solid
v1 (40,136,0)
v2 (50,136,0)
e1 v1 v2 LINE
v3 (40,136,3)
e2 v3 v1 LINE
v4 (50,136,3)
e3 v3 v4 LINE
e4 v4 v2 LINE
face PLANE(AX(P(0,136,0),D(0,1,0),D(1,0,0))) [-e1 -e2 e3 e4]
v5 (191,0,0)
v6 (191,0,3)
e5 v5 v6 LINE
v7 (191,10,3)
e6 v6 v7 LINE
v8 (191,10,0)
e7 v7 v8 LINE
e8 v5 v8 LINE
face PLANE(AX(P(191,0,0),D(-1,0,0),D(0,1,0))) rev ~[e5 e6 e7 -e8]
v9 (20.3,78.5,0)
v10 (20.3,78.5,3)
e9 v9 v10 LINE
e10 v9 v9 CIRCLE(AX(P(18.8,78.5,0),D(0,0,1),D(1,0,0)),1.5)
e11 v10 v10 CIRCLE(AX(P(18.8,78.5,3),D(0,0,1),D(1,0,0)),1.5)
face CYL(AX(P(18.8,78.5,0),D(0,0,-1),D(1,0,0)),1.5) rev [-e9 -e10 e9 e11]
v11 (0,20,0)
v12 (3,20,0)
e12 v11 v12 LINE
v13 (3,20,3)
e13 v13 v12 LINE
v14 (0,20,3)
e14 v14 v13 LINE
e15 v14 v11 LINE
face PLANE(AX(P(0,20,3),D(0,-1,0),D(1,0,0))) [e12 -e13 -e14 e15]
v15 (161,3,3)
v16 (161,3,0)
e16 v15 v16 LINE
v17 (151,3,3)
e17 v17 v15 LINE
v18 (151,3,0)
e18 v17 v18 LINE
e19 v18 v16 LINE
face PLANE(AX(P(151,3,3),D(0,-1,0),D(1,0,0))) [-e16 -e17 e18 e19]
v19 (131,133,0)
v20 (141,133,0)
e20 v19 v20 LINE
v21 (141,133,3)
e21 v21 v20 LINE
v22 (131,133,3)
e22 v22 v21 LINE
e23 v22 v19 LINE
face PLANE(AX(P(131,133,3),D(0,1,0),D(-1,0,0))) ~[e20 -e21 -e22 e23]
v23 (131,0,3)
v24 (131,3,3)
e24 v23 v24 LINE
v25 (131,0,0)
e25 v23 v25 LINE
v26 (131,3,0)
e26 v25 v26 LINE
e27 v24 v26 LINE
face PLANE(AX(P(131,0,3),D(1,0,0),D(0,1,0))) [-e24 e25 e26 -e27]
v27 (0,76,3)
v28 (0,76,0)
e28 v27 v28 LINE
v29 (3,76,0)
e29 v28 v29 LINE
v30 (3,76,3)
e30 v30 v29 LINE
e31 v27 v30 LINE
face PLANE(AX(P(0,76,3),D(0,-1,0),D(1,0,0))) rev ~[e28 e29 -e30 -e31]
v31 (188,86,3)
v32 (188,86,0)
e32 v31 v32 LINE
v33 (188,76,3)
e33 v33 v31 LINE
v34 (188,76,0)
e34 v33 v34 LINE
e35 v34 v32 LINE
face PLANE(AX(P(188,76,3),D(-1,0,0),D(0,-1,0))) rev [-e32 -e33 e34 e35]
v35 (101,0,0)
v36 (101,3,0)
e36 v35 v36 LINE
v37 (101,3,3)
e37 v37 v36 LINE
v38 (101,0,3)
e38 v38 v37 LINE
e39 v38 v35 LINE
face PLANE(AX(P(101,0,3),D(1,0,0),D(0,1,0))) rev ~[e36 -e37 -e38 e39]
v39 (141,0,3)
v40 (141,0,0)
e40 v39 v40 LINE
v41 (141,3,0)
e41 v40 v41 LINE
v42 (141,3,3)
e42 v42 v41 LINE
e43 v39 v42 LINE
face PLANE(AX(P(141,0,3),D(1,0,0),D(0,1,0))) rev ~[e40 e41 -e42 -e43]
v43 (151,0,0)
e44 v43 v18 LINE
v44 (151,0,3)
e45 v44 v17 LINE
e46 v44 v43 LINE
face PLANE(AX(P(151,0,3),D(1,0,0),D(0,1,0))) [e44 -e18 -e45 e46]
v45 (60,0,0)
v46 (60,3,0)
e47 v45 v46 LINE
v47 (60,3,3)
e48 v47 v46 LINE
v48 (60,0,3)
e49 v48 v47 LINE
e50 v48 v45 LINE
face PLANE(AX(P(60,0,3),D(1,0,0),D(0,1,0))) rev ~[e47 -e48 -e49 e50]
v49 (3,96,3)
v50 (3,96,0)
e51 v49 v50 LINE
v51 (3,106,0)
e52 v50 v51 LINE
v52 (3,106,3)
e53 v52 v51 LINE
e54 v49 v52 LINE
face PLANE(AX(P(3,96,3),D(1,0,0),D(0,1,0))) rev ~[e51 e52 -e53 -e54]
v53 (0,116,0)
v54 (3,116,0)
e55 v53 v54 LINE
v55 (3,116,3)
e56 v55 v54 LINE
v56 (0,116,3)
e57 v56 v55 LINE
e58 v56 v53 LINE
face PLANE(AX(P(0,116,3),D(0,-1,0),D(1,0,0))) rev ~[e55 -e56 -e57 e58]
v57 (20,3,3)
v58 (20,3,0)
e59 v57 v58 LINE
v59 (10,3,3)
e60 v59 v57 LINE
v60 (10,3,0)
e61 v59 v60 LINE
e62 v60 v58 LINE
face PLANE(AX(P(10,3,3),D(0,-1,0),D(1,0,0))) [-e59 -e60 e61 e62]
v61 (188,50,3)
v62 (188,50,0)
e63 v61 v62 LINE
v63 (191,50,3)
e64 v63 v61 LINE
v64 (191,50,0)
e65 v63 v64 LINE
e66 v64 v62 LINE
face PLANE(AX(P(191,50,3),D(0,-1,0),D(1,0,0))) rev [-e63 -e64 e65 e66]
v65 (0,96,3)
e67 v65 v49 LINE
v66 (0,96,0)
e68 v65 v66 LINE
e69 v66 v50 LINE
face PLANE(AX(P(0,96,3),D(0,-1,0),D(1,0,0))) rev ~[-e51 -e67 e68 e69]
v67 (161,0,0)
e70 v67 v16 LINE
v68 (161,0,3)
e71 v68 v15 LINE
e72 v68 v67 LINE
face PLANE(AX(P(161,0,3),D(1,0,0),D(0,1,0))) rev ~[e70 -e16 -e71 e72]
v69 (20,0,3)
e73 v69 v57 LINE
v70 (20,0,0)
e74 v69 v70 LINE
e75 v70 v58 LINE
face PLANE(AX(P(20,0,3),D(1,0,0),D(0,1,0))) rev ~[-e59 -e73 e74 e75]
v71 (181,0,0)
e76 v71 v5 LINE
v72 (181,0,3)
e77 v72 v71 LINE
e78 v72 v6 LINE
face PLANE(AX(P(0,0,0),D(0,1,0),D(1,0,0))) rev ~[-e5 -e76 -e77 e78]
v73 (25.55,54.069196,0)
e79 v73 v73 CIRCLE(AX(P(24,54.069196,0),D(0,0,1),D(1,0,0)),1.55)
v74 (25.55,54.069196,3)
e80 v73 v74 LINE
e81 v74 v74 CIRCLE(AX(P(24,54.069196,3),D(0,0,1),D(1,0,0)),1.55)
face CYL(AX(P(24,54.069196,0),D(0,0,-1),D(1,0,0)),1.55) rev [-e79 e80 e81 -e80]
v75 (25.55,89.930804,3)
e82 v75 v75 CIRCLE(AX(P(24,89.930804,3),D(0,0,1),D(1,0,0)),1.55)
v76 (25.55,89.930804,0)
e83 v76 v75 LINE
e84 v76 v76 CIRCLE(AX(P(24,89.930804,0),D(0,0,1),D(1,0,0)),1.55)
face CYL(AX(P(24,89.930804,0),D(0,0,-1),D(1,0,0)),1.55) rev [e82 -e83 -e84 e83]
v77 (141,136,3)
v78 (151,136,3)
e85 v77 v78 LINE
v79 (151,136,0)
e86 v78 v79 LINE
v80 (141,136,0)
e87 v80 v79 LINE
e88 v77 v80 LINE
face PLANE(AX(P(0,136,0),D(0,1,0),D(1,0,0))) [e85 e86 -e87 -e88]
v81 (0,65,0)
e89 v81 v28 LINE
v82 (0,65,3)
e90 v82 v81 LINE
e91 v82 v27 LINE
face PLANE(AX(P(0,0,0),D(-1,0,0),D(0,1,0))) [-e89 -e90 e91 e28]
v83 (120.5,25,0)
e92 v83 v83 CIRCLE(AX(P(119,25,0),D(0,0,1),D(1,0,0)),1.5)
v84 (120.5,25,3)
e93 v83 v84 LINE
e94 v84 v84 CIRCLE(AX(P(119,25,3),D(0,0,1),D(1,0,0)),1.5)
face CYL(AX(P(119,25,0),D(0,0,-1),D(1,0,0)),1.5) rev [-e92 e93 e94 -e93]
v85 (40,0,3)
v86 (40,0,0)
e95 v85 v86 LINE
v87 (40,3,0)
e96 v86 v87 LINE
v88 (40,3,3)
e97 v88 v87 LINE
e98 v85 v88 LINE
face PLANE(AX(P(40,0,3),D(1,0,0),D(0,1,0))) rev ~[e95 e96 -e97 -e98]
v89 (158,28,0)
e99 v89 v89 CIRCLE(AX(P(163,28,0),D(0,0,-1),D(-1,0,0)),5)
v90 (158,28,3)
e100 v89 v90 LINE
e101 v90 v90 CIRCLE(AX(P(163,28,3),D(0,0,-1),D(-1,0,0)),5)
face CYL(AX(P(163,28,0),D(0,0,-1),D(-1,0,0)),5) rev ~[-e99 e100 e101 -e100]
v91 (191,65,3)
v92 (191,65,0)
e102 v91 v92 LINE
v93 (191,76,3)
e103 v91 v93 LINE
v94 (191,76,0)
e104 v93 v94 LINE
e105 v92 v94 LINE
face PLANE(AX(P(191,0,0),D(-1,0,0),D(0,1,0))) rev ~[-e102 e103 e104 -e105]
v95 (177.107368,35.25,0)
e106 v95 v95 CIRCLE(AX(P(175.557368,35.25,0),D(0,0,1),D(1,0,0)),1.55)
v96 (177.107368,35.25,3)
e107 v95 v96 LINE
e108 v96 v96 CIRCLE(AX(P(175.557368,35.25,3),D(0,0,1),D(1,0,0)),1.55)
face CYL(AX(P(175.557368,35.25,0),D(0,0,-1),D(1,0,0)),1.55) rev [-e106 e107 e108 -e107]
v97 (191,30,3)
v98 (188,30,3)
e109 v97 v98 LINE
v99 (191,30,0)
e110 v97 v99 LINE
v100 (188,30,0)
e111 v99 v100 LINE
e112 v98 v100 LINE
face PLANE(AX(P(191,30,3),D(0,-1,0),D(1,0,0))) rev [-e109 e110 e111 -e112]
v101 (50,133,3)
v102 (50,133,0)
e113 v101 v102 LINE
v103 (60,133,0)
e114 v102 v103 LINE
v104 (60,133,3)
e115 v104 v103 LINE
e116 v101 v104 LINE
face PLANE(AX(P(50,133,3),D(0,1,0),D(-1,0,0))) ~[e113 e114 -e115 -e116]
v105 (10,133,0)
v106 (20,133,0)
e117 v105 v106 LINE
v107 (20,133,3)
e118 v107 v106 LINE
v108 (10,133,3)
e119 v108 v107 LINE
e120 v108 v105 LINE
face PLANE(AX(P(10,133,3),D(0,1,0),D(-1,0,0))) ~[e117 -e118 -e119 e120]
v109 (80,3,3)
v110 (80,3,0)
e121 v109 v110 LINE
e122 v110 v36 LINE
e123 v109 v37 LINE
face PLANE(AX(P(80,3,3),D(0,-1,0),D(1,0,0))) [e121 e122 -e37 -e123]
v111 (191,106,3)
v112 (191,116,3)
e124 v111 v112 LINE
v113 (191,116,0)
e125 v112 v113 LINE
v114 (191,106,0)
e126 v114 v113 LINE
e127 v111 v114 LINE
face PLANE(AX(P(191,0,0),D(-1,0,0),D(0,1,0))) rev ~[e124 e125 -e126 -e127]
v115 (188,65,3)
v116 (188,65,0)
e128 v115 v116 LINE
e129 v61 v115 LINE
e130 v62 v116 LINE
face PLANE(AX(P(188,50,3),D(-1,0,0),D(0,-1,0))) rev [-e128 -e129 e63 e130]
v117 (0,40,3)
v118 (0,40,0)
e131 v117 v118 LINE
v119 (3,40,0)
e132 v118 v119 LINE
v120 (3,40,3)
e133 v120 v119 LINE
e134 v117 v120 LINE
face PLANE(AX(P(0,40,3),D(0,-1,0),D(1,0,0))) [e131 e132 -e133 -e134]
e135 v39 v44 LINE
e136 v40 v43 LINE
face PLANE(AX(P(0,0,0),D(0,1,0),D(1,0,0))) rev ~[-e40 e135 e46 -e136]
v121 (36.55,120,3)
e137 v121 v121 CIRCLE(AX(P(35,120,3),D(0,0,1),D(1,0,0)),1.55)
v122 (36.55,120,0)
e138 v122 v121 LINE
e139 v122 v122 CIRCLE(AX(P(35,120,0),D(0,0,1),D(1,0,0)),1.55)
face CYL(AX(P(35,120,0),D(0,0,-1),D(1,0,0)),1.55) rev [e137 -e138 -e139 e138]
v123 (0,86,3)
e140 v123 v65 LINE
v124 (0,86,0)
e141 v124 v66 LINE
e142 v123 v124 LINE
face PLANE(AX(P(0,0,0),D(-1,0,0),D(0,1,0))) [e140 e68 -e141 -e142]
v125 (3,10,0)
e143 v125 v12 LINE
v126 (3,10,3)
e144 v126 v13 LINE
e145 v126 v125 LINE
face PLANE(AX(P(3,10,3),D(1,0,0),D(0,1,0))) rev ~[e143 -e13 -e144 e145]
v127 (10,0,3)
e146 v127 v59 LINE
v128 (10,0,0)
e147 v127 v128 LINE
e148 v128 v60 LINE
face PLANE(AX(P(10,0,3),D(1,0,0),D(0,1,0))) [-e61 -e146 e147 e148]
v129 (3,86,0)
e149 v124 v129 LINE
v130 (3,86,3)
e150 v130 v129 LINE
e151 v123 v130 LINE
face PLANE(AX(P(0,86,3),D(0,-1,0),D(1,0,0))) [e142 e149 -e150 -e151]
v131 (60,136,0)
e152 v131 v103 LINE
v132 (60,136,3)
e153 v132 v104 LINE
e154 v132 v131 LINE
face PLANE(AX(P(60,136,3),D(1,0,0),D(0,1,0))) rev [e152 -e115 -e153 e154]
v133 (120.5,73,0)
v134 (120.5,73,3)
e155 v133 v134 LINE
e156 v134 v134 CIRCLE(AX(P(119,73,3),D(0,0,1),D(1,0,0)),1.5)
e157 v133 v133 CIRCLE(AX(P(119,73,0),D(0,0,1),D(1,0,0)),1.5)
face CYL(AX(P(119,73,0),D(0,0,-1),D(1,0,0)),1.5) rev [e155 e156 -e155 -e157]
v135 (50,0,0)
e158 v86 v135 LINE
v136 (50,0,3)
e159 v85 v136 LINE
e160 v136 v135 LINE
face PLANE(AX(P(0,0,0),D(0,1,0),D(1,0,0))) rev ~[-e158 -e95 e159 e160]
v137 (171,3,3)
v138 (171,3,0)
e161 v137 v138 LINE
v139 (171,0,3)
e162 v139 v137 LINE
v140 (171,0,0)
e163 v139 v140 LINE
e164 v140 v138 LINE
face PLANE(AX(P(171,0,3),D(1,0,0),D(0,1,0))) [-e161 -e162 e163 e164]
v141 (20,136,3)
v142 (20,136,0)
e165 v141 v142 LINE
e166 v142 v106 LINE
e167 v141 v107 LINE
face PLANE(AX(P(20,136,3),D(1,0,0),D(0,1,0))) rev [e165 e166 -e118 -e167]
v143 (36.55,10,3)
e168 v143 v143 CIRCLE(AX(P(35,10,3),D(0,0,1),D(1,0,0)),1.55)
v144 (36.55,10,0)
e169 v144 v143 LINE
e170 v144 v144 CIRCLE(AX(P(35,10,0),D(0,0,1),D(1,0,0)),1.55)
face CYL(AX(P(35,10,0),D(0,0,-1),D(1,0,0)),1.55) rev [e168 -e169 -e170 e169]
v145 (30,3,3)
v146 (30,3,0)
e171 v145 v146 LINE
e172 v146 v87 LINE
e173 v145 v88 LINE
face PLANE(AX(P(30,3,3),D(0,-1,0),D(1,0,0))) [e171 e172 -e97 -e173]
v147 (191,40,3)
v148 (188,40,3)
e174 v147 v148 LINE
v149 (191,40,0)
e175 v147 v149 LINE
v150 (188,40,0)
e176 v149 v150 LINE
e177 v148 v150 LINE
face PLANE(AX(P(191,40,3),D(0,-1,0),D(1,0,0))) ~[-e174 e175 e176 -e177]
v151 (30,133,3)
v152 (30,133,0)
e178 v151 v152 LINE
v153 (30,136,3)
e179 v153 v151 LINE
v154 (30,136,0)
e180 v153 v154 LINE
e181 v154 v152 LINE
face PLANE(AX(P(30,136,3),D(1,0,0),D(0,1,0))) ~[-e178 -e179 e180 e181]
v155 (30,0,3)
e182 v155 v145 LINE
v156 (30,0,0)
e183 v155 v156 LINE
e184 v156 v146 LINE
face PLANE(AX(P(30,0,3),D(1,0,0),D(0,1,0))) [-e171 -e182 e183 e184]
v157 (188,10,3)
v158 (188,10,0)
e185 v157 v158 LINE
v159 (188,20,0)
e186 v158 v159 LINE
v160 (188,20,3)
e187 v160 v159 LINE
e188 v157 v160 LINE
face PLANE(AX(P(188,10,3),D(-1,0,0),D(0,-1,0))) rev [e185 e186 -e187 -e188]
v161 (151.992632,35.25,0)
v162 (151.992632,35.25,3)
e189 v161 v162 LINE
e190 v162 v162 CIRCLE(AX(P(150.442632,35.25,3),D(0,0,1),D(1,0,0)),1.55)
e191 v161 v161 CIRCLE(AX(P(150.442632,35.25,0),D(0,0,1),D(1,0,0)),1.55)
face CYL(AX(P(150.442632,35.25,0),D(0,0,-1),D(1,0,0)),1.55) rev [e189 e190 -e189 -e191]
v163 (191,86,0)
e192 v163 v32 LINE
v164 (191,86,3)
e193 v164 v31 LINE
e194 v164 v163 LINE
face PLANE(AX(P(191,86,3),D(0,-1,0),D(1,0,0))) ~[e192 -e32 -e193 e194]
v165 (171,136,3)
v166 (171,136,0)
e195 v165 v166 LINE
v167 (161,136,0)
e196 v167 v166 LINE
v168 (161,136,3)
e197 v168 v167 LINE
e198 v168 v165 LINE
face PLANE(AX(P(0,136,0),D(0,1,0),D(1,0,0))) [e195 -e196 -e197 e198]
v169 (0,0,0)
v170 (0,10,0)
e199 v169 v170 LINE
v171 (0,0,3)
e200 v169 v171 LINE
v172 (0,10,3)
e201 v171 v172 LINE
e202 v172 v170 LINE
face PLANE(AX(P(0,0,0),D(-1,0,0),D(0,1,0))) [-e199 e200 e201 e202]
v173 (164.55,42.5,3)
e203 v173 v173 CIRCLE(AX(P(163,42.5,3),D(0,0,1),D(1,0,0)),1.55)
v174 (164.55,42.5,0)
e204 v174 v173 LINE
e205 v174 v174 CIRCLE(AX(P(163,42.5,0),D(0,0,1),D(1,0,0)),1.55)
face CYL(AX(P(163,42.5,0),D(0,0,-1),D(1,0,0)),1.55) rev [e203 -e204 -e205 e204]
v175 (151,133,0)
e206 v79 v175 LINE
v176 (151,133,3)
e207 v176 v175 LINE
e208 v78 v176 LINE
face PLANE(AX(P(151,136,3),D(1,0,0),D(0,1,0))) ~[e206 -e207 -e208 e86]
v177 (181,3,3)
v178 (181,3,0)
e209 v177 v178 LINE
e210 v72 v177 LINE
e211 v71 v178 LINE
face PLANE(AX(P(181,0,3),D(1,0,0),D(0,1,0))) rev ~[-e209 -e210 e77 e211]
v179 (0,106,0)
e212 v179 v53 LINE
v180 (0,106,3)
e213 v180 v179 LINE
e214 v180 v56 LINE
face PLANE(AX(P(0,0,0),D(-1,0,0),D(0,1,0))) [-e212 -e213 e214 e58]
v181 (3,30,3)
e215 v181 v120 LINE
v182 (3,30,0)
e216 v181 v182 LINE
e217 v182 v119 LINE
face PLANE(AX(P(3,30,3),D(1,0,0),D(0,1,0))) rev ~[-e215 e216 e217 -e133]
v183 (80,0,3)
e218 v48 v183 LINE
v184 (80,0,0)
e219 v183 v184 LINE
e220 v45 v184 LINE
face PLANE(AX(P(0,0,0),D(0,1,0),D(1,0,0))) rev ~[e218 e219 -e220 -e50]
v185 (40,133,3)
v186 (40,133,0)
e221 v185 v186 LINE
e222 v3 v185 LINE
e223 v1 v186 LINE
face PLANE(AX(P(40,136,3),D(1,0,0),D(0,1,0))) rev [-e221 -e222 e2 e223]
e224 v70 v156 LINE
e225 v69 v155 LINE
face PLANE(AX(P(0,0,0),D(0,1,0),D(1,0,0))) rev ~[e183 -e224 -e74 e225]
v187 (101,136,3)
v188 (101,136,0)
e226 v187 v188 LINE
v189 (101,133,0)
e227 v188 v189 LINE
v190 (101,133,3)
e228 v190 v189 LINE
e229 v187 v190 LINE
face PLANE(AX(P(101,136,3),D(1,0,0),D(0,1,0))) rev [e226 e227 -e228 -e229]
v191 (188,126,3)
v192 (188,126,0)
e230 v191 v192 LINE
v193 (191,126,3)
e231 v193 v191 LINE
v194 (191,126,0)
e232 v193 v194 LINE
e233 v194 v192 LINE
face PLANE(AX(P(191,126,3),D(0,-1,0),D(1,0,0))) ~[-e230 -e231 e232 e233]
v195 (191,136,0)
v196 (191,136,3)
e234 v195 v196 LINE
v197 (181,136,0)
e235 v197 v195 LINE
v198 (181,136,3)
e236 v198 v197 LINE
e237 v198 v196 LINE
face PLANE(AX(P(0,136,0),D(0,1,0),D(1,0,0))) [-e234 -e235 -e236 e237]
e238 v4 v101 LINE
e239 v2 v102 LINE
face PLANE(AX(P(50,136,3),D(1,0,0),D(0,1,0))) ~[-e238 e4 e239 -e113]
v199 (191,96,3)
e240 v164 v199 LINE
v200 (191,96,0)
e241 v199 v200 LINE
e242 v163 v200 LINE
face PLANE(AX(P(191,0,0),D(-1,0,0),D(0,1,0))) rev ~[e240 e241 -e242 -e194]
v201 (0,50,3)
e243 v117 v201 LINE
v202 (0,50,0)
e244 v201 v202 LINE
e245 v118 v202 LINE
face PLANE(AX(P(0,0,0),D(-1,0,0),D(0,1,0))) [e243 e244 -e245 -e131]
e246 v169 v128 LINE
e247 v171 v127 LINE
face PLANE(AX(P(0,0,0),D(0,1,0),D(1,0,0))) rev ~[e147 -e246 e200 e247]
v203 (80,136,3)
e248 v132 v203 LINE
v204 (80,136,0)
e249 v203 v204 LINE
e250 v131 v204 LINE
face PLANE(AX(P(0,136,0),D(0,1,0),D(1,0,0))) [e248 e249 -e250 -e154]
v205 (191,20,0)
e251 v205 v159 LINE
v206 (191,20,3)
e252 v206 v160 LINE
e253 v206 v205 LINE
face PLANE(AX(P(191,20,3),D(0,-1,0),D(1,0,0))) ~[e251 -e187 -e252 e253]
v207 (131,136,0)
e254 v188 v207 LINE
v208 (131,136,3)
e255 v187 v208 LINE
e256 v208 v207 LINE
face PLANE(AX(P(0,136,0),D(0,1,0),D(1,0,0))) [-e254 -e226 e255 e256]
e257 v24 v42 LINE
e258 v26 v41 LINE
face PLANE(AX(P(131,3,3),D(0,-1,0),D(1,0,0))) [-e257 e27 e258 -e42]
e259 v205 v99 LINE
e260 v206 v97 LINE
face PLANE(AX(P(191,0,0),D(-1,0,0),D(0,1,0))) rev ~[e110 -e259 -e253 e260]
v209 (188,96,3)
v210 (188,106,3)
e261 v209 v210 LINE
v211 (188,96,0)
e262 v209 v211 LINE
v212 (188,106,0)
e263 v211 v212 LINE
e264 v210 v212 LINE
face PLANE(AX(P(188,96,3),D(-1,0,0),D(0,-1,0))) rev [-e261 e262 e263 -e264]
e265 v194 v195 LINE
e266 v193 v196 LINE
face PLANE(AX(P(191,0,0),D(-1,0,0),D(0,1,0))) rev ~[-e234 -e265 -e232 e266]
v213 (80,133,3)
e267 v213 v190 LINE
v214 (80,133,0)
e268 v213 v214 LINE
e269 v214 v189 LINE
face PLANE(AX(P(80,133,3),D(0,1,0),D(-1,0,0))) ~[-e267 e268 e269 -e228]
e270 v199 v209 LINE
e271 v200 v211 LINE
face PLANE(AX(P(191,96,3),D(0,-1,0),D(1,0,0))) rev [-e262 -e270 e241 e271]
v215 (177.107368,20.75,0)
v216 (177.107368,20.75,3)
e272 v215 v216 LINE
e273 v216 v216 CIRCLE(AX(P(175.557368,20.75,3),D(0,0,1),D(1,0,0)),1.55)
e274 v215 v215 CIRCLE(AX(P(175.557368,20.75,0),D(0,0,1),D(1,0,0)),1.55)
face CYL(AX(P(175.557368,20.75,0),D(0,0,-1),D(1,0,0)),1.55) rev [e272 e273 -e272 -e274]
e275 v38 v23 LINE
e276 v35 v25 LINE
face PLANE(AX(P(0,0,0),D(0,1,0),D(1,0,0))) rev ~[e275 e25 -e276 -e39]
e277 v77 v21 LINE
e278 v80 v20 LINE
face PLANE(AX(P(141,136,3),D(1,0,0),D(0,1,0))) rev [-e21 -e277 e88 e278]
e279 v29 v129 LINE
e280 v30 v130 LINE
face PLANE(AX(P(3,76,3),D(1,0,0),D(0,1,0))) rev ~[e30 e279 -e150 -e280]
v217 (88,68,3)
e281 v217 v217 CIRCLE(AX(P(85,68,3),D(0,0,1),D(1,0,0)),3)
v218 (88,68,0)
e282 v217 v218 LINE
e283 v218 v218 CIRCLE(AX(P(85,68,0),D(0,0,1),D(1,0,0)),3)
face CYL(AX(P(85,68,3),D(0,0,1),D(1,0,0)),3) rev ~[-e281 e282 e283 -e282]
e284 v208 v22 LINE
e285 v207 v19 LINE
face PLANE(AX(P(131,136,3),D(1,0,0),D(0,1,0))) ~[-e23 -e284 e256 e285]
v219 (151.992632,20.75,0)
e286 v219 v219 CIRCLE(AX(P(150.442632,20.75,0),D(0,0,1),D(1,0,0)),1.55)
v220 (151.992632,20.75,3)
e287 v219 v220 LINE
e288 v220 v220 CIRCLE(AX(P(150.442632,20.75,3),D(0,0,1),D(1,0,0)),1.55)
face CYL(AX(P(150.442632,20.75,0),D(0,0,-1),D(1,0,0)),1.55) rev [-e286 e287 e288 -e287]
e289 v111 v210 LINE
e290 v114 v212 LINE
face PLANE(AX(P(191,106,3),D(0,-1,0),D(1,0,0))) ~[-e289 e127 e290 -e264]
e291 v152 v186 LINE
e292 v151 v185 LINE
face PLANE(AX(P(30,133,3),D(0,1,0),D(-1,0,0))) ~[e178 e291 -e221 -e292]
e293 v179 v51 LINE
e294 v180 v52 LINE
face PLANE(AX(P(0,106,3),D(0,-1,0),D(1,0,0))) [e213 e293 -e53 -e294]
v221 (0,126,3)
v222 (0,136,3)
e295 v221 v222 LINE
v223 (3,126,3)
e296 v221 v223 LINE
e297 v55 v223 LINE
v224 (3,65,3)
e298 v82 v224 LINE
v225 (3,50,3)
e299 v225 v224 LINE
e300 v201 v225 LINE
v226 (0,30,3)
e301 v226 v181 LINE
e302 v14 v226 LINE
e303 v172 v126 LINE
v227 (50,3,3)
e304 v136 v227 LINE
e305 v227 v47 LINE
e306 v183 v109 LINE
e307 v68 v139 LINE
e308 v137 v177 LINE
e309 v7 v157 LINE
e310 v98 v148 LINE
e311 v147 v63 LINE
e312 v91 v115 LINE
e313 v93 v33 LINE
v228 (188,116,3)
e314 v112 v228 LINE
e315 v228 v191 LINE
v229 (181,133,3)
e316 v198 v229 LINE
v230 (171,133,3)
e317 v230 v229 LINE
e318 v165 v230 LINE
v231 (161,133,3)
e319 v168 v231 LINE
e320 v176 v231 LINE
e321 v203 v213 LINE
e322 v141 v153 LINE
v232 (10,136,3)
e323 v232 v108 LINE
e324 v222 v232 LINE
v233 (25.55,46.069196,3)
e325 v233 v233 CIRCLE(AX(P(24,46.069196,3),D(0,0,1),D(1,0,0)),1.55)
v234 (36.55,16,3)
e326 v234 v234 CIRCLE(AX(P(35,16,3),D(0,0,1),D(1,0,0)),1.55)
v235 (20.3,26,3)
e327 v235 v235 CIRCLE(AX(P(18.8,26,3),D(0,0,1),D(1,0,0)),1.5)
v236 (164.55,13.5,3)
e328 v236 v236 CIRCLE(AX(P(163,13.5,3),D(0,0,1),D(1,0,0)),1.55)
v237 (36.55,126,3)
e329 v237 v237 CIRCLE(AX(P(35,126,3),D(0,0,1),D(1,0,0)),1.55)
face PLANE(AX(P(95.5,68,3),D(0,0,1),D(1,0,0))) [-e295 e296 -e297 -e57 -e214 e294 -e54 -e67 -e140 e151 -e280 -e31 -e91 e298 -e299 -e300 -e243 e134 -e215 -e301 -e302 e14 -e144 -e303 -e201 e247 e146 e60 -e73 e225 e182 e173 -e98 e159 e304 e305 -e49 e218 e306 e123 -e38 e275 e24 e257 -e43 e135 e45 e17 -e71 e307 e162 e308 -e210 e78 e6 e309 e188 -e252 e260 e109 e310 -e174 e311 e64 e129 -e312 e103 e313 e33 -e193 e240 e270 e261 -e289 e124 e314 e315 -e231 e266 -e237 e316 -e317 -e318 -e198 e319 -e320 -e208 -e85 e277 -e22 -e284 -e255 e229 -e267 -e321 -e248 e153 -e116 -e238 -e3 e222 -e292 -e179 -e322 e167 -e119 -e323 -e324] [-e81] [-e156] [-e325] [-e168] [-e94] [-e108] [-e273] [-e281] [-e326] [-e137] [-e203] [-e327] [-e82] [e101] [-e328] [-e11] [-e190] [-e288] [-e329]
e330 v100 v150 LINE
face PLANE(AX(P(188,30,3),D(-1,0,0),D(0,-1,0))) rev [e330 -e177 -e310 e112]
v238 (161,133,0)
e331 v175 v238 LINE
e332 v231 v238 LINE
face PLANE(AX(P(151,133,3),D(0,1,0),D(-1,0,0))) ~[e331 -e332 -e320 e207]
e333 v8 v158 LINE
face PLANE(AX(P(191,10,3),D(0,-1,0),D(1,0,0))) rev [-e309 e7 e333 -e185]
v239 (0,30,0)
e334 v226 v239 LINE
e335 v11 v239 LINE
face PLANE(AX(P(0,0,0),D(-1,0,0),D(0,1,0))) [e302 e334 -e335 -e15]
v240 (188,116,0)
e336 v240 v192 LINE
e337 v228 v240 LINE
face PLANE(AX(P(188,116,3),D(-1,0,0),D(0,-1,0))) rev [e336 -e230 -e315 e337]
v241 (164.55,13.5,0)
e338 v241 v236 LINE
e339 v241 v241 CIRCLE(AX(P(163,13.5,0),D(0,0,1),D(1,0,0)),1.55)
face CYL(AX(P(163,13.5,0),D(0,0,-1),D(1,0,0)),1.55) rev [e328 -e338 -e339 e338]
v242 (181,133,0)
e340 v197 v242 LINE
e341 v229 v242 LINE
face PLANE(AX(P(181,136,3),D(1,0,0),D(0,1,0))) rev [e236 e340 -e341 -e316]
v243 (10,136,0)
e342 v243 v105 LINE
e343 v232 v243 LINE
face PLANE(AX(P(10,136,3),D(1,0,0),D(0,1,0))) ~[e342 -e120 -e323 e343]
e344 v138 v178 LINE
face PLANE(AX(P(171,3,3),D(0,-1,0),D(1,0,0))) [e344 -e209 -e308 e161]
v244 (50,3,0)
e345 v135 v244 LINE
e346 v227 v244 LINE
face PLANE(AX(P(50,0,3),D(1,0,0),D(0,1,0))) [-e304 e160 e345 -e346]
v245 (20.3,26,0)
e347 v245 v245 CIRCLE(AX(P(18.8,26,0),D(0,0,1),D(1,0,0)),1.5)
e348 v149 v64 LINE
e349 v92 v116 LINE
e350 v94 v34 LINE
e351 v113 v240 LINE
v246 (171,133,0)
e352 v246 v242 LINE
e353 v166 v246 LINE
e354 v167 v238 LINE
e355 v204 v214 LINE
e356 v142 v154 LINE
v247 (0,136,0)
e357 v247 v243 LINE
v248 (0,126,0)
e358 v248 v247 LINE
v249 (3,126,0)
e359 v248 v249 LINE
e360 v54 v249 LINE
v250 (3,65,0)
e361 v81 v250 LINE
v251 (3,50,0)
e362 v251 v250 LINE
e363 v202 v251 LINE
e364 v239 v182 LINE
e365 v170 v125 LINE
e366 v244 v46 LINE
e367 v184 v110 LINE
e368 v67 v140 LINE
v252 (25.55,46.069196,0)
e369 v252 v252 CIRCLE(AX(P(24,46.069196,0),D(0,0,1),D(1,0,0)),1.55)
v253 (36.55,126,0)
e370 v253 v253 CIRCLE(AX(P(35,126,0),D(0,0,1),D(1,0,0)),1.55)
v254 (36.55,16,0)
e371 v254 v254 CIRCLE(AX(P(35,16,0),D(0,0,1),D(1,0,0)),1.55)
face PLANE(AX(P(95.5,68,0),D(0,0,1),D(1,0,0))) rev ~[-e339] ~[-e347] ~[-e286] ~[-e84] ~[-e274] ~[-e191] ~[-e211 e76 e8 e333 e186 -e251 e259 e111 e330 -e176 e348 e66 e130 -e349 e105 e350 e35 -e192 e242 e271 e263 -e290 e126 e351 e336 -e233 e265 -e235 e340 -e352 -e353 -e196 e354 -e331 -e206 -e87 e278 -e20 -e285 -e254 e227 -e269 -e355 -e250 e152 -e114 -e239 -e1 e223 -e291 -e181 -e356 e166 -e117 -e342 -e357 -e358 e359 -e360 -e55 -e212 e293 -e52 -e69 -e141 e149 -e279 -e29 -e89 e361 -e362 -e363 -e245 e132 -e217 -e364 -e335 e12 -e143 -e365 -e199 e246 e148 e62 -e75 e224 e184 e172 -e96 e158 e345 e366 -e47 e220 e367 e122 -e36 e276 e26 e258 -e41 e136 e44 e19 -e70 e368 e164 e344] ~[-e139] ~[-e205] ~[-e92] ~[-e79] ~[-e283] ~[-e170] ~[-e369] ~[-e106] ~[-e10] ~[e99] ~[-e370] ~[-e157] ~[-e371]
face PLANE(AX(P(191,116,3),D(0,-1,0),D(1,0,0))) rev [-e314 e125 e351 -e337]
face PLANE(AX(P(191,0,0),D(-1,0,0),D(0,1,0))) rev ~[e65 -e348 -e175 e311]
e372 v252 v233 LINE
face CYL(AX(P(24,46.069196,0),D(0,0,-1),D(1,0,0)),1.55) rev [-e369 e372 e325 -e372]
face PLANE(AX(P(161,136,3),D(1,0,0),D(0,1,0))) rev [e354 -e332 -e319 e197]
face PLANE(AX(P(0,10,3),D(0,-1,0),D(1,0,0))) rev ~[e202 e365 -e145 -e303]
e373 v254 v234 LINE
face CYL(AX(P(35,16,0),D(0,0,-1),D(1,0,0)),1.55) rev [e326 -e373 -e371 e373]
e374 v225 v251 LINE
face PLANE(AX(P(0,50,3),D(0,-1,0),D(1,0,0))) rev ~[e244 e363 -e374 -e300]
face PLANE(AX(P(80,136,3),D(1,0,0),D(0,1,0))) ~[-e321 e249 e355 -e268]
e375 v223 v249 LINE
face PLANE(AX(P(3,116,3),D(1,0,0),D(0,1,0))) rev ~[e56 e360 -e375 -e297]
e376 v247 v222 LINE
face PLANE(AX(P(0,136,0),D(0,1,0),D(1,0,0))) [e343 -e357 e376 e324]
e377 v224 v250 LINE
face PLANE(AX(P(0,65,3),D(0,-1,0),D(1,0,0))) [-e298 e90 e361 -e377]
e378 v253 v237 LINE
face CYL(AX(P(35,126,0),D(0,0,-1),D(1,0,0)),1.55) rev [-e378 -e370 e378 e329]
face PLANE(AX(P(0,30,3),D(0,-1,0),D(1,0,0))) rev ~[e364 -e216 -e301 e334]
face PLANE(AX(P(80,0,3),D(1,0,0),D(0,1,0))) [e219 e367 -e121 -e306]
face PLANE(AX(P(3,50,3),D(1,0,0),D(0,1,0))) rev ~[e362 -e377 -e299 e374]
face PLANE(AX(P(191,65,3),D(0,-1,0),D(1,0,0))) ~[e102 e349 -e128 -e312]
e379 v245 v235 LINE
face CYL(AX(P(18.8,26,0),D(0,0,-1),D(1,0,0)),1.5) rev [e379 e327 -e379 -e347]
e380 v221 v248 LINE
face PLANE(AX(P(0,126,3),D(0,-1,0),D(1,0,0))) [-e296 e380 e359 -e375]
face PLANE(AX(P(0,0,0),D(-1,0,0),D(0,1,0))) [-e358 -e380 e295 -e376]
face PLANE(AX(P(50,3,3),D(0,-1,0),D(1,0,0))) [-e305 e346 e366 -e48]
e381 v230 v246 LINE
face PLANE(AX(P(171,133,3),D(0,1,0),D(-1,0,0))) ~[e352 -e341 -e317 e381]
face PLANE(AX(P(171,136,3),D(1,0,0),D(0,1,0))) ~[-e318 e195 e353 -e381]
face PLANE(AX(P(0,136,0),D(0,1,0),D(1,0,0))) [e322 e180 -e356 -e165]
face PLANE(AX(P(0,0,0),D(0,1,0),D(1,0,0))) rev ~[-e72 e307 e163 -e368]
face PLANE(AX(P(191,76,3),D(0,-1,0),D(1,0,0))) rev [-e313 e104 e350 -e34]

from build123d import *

# Parameters (mm, degrees)
SKETCH2_W           = 191
SKETCH2_H           = 136
SKETCH2_R           = 1.55
SKETCH2_R_2         = 1.549999948
SKETCH2_R_3         = 1.5
BOSS_EXTRUDE1_DEPTH = 3
CUT_EXTRUDE1_REACH  = 236.491
SKETCH3_W           = 10
SKETCH3_H           = 3
SKETCH3_W_2         = 21
CUT_EXTRUDE2_REACH  = 236.491
SKETCH4_W           = 3
SKETCH4_H           = 10
SKETCH4_H_2         = 15
CUT_EXTRUDE3_REACH  = 236.491
SKETCH8_R           = 5
CUT_EXTRUDE4_REACH  = 236.491
SKETCH9_R           = 3


with BuildPart() as part:
    # Sketch2 → Boss-Extrude1 (new body)
    with BuildSketch(Plane.XY):
        with Locations((95.5, 68)):
            Rectangle(SKETCH2_W, SKETCH2_H)
        with Locations((35, 16)):
            Circle(SKETCH2_R, mode=Mode.SUBTRACT)
        with Locations((35, 10)):
            Circle(SKETCH2_R, mode=Mode.SUBTRACT)
        with Locations((24, 46.069195574)):
            Circle(SKETCH2_R, mode=Mode.SUBTRACT)
        with Locations((24, 54.069195574)):
            Circle(SKETCH2_R, mode=Mode.SUBTRACT)
        with Locations((24, 89.930804426)):
            Circle(SKETCH2_R, mode=Mode.SUBTRACT)
        with Locations((35, 120)):
            Circle(SKETCH2_R, mode=Mode.SUBTRACT)
        with Locations((35, 126)):
            Circle(SKETCH2_R, mode=Mode.SUBTRACT)
        with Locations((175.557368355, 35.25)):
            Circle(SKETCH2_R_2, mode=Mode.SUBTRACT)
        with Locations((163, 42.5)):
            Circle(SKETCH2_R_2, mode=Mode.SUBTRACT)
        with Locations((150.442631645, 35.25)):
            Circle(SKETCH2_R_2, mode=Mode.SUBTRACT)
        with Locations((150.442631645, 20.75)):
            Circle(SKETCH2_R_2, mode=Mode.SUBTRACT)
        with Locations((163, 13.5)):
            Circle(SKETCH2_R_2, mode=Mode.SUBTRACT)
        with Locations((175.557368355, 20.75)):
            Circle(SKETCH2_R_2, mode=Mode.SUBTRACT)
        with Locations((18.8, 78.5)):
            Circle(SKETCH2_R_3, mode=Mode.SUBTRACT)
        with Locations((18.8, 26)):
            Circle(SKETCH2_R_3, mode=Mode.SUBTRACT)
        with Locations((119, 73)):
            Circle(SKETCH2_R_3, mode=Mode.SUBTRACT)
        with Locations((119, 25)):
            Circle(SKETCH2_R_3, mode=Mode.SUBTRACT)
    extrude(amount=BOSS_EXTRUDE1_DEPTH)

    # Sketch3 → Cut-Extrude1 (cut, up to next)
    with BuildSketch(Plane.XY.offset(3), mode=Mode.PRIVATE) as cut_extrude1_sk1:
        with Locations((176, 1.5)):
            Rectangle(SKETCH3_W, SKETCH3_H)
    cut_extrude1_tool1 = extrude(cut_extrude1_sk1.sketch, amount=-CUT_EXTRUDE1_REACH, mode=Mode.PRIVATE) & part.part
    # Sketch3 → Cut-Extrude1 (cut, up to next)
    with BuildSketch(Plane.XY.offset(3), mode=Mode.PRIVATE) as cut_extrude1_sk2:
        with Locations((156, 1.5)):
            Rectangle(SKETCH3_W, SKETCH3_H)
    cut_extrude1_tool2 = extrude(cut_extrude1_sk2.sketch, amount=-CUT_EXTRUDE1_REACH, mode=Mode.PRIVATE) & part.part
    # Sketch3 → Cut-Extrude1 (cut, up to next)
    with BuildSketch(Plane.XY.offset(3), mode=Mode.PRIVATE) as cut_extrude1_sk3:
        with Locations((136, 1.5)):
            Rectangle(SKETCH3_W, SKETCH3_H)
    cut_extrude1_tool3 = extrude(cut_extrude1_sk3.sketch, amount=-CUT_EXTRUDE1_REACH, mode=Mode.PRIVATE) & part.part
    # Sketch3 → Cut-Extrude1 (cut, up to next)
    with BuildSketch(Plane.XY.offset(3), mode=Mode.PRIVATE) as cut_extrude1_sk4:
        with Locations((90.5, 1.5)):
            Rectangle(SKETCH3_W_2, SKETCH3_H)
    cut_extrude1_tool4 = extrude(cut_extrude1_sk4.sketch, amount=-CUT_EXTRUDE1_REACH, mode=Mode.PRIVATE) & part.part
    # Sketch3 → Cut-Extrude1 (cut, up to next)
    with BuildSketch(Plane.XY.offset(3), mode=Mode.PRIVATE) as cut_extrude1_sk5:
        with Locations((55, 1.5)):
            Rectangle(SKETCH3_W, SKETCH3_H)
    cut_extrude1_tool5 = extrude(cut_extrude1_sk5.sketch, amount=-CUT_EXTRUDE1_REACH, mode=Mode.PRIVATE) & part.part
    # Sketch3 → Cut-Extrude1 (cut, up to next)
    with BuildSketch(Plane.XY.offset(3), mode=Mode.PRIVATE) as cut_extrude1_sk6:
        with Locations((35, 1.5)):
            Rectangle(SKETCH3_W, SKETCH3_H)
    cut_extrude1_tool6 = extrude(cut_extrude1_sk6.sketch, amount=-CUT_EXTRUDE1_REACH, mode=Mode.PRIVATE) & part.part
    # Sketch3 → Cut-Extrude1 (cut, up to next)
    with BuildSketch(Plane.XY.offset(3), mode=Mode.PRIVATE) as cut_extrude1_sk7:
        with Locations((15, 1.5)):
            Rectangle(SKETCH3_W, SKETCH3_H)
    cut_extrude1_tool7 = extrude(cut_extrude1_sk7.sketch, amount=-CUT_EXTRUDE1_REACH, mode=Mode.PRIVATE) & part.part
    cut_extrude1_1 = cut_extrude1_tool1.solids().sort_by_distance((176, 1.5, 3))[0]
    add(cut_extrude1_1, mode=Mode.SUBTRACT)
    cut_extrude1_2 = cut_extrude1_tool2.solids().sort_by_distance((156, 1.5, 3))[0]
    add(cut_extrude1_2, mode=Mode.SUBTRACT)
    cut_extrude1_3 = cut_extrude1_tool3.solids().sort_by_distance((136, 1.5, 3))[0]
    add(cut_extrude1_3, mode=Mode.SUBTRACT)
    cut_extrude1_4 = cut_extrude1_tool4.solids().sort_by_distance((90.5, 1.5, 3))[0]
    add(cut_extrude1_4, mode=Mode.SUBTRACT)
    cut_extrude1_5 = cut_extrude1_tool5.solids().sort_by_distance((55, 1.5, 3))[0]
    add(cut_extrude1_5, mode=Mode.SUBTRACT)
    cut_extrude1_6 = cut_extrude1_tool6.solids().sort_by_distance((35, 1.5, 3))[0]
    add(cut_extrude1_6, mode=Mode.SUBTRACT)
    cut_extrude1_7 = cut_extrude1_tool7.solids().sort_by_distance((15, 1.5, 3))[0]
    add(cut_extrude1_7, mode=Mode.SUBTRACT)
    cut_extrude1 = cut_extrude1_1 + cut_extrude1_2 + cut_extrude1_3 + cut_extrude1_4 + cut_extrude1_5 + cut_extrude1_6 + cut_extrude1_7  # Cut-Extrude1 as one shape, for the pattern or mirror that repeats it

    # Mirror1: Cut-Extrude1 across plane
    add(cut_extrude1.mirror(Plane.ZX.offset(68)), mode=Mode.SUBTRACT)

    # Sketch4 → Cut-Extrude2 (cut, up to next)
    with BuildSketch(Plane.XY.offset(3), mode=Mode.PRIVATE) as cut_extrude2_sk1:
        with Locations((1.5, 121)):
            Rectangle(SKETCH4_W, SKETCH4_H)
    cut_extrude2_tool1 = extrude(cut_extrude2_sk1.sketch, amount=-CUT_EXTRUDE2_REACH, mode=Mode.PRIVATE) & part.part
    # Sketch4 → Cut-Extrude2 (cut, up to next)
    with BuildSketch(Plane.XY.offset(3), mode=Mode.PRIVATE) as cut_extrude2_sk2:
        with Locations((1.5, 101)):
            Rectangle(SKETCH4_W, SKETCH4_H)
    cut_extrude2_tool2 = extrude(cut_extrude2_sk2.sketch, amount=-CUT_EXTRUDE2_REACH, mode=Mode.PRIVATE) & part.part
    # Sketch4 → Cut-Extrude2 (cut, up to next)
    with BuildSketch(Plane.XY.offset(3), mode=Mode.PRIVATE) as cut_extrude2_sk3:
        with Locations((1.5, 81)):
            Rectangle(SKETCH4_W, SKETCH4_H)
    cut_extrude2_tool3 = extrude(cut_extrude2_sk3.sketch, amount=-CUT_EXTRUDE2_REACH, mode=Mode.PRIVATE) & part.part
    # Sketch4 → Cut-Extrude2 (cut, up to next)
    with BuildSketch(Plane.XY.offset(3), mode=Mode.PRIVATE) as cut_extrude2_sk4:
        with Locations((1.5, 15)):
            Rectangle(SKETCH4_W, SKETCH4_H)
    cut_extrude2_tool4 = extrude(cut_extrude2_sk4.sketch, amount=-CUT_EXTRUDE2_REACH, mode=Mode.PRIVATE) & part.part
    # Sketch4 → Cut-Extrude2 (cut, up to next)
    with BuildSketch(Plane.XY.offset(3), mode=Mode.PRIVATE) as cut_extrude2_sk5:
        with Locations((1.5, 35)):
            Rectangle(SKETCH4_W, SKETCH4_H)
    cut_extrude2_tool5 = extrude(cut_extrude2_sk5.sketch, amount=-CUT_EXTRUDE2_REACH, mode=Mode.PRIVATE) & part.part
    # Sketch4 → Cut-Extrude2 (cut, up to next)
    with BuildSketch(Plane.XY.offset(3), mode=Mode.PRIVATE) as cut_extrude2_sk6:
        with Locations((1.5, 57.5)):
            Rectangle(SKETCH4_W, SKETCH4_H_2)
    cut_extrude2_tool6 = extrude(cut_extrude2_sk6.sketch, amount=-CUT_EXTRUDE2_REACH, mode=Mode.PRIVATE) & part.part
    cut_extrude2_1 = cut_extrude2_tool1.solids().sort_by_distance((1.5, 121, 3))[0]
    add(cut_extrude2_1, mode=Mode.SUBTRACT)
    cut_extrude2_2 = cut_extrude2_tool2.solids().sort_by_distance((1.5, 101, 3))[0]
    add(cut_extrude2_2, mode=Mode.SUBTRACT)
    cut_extrude2_3 = cut_extrude2_tool3.solids().sort_by_distance((1.5, 81, 3))[0]
    add(cut_extrude2_3, mode=Mode.SUBTRACT)
    cut_extrude2_4 = cut_extrude2_tool4.solids().sort_by_distance((1.5, 15, 3))[0]
    add(cut_extrude2_4, mode=Mode.SUBTRACT)
    cut_extrude2_5 = cut_extrude2_tool5.solids().sort_by_distance((1.5, 35, 3))[0]
    add(cut_extrude2_5, mode=Mode.SUBTRACT)
    cut_extrude2_6 = cut_extrude2_tool6.solids().sort_by_distance((1.5, 57.5, 3))[0]
    add(cut_extrude2_6, mode=Mode.SUBTRACT)
    cut_extrude2 = cut_extrude2_1 + cut_extrude2_2 + cut_extrude2_3 + cut_extrude2_4 + cut_extrude2_5 + cut_extrude2_6  # Cut-Extrude2 as one shape, for the pattern or mirror that repeats it

    # Mirror2: Cut-Extrude2 across plane
    add(cut_extrude2.mirror(Plane(origin=(95.5, 0, 0), x_dir=(0, 0, 1), z_dir=(1, 0, 0))), mode=Mode.SUBTRACT)

    # Sketch8 → Cut-Extrude3 (cut, up to next)
    with BuildSketch(Plane(origin=(0, 0, 0), x_dir=(-1, 0, 0), z_dir=(0, 0, -1)), mode=Mode.PRIVATE) as cut_extrude3_sk1:
        with Locations((-163, 28)):
            Circle(SKETCH8_R)
    cut_extrude3_tool1 = extrude(cut_extrude3_sk1.sketch, amount=-CUT_EXTRUDE3_REACH, mode=Mode.PRIVATE) & part.part
    add(cut_extrude3_tool1.solids().sort_by_distance((163, 28, 0))[0], mode=Mode.SUBTRACT)

    # Sketch9 → Cut-Extrude4 (cut, up to next)
    with BuildSketch(Plane.XY.offset(3), mode=Mode.PRIVATE) as cut_extrude4_sk1:
        with Locations((85, 68)):
            Circle(SKETCH9_R)
    cut_extrude4_tool1 = extrude(cut_extrude4_sk1.sketch, amount=-CUT_EXTRUDE4_REACH, mode=Mode.PRIVATE) & part.part
    add(cut_extrude4_tool1.solids().sort_by_distance((85, 68, 3))[0], mode=Mode.SUBTRACT)


solid = part.part
